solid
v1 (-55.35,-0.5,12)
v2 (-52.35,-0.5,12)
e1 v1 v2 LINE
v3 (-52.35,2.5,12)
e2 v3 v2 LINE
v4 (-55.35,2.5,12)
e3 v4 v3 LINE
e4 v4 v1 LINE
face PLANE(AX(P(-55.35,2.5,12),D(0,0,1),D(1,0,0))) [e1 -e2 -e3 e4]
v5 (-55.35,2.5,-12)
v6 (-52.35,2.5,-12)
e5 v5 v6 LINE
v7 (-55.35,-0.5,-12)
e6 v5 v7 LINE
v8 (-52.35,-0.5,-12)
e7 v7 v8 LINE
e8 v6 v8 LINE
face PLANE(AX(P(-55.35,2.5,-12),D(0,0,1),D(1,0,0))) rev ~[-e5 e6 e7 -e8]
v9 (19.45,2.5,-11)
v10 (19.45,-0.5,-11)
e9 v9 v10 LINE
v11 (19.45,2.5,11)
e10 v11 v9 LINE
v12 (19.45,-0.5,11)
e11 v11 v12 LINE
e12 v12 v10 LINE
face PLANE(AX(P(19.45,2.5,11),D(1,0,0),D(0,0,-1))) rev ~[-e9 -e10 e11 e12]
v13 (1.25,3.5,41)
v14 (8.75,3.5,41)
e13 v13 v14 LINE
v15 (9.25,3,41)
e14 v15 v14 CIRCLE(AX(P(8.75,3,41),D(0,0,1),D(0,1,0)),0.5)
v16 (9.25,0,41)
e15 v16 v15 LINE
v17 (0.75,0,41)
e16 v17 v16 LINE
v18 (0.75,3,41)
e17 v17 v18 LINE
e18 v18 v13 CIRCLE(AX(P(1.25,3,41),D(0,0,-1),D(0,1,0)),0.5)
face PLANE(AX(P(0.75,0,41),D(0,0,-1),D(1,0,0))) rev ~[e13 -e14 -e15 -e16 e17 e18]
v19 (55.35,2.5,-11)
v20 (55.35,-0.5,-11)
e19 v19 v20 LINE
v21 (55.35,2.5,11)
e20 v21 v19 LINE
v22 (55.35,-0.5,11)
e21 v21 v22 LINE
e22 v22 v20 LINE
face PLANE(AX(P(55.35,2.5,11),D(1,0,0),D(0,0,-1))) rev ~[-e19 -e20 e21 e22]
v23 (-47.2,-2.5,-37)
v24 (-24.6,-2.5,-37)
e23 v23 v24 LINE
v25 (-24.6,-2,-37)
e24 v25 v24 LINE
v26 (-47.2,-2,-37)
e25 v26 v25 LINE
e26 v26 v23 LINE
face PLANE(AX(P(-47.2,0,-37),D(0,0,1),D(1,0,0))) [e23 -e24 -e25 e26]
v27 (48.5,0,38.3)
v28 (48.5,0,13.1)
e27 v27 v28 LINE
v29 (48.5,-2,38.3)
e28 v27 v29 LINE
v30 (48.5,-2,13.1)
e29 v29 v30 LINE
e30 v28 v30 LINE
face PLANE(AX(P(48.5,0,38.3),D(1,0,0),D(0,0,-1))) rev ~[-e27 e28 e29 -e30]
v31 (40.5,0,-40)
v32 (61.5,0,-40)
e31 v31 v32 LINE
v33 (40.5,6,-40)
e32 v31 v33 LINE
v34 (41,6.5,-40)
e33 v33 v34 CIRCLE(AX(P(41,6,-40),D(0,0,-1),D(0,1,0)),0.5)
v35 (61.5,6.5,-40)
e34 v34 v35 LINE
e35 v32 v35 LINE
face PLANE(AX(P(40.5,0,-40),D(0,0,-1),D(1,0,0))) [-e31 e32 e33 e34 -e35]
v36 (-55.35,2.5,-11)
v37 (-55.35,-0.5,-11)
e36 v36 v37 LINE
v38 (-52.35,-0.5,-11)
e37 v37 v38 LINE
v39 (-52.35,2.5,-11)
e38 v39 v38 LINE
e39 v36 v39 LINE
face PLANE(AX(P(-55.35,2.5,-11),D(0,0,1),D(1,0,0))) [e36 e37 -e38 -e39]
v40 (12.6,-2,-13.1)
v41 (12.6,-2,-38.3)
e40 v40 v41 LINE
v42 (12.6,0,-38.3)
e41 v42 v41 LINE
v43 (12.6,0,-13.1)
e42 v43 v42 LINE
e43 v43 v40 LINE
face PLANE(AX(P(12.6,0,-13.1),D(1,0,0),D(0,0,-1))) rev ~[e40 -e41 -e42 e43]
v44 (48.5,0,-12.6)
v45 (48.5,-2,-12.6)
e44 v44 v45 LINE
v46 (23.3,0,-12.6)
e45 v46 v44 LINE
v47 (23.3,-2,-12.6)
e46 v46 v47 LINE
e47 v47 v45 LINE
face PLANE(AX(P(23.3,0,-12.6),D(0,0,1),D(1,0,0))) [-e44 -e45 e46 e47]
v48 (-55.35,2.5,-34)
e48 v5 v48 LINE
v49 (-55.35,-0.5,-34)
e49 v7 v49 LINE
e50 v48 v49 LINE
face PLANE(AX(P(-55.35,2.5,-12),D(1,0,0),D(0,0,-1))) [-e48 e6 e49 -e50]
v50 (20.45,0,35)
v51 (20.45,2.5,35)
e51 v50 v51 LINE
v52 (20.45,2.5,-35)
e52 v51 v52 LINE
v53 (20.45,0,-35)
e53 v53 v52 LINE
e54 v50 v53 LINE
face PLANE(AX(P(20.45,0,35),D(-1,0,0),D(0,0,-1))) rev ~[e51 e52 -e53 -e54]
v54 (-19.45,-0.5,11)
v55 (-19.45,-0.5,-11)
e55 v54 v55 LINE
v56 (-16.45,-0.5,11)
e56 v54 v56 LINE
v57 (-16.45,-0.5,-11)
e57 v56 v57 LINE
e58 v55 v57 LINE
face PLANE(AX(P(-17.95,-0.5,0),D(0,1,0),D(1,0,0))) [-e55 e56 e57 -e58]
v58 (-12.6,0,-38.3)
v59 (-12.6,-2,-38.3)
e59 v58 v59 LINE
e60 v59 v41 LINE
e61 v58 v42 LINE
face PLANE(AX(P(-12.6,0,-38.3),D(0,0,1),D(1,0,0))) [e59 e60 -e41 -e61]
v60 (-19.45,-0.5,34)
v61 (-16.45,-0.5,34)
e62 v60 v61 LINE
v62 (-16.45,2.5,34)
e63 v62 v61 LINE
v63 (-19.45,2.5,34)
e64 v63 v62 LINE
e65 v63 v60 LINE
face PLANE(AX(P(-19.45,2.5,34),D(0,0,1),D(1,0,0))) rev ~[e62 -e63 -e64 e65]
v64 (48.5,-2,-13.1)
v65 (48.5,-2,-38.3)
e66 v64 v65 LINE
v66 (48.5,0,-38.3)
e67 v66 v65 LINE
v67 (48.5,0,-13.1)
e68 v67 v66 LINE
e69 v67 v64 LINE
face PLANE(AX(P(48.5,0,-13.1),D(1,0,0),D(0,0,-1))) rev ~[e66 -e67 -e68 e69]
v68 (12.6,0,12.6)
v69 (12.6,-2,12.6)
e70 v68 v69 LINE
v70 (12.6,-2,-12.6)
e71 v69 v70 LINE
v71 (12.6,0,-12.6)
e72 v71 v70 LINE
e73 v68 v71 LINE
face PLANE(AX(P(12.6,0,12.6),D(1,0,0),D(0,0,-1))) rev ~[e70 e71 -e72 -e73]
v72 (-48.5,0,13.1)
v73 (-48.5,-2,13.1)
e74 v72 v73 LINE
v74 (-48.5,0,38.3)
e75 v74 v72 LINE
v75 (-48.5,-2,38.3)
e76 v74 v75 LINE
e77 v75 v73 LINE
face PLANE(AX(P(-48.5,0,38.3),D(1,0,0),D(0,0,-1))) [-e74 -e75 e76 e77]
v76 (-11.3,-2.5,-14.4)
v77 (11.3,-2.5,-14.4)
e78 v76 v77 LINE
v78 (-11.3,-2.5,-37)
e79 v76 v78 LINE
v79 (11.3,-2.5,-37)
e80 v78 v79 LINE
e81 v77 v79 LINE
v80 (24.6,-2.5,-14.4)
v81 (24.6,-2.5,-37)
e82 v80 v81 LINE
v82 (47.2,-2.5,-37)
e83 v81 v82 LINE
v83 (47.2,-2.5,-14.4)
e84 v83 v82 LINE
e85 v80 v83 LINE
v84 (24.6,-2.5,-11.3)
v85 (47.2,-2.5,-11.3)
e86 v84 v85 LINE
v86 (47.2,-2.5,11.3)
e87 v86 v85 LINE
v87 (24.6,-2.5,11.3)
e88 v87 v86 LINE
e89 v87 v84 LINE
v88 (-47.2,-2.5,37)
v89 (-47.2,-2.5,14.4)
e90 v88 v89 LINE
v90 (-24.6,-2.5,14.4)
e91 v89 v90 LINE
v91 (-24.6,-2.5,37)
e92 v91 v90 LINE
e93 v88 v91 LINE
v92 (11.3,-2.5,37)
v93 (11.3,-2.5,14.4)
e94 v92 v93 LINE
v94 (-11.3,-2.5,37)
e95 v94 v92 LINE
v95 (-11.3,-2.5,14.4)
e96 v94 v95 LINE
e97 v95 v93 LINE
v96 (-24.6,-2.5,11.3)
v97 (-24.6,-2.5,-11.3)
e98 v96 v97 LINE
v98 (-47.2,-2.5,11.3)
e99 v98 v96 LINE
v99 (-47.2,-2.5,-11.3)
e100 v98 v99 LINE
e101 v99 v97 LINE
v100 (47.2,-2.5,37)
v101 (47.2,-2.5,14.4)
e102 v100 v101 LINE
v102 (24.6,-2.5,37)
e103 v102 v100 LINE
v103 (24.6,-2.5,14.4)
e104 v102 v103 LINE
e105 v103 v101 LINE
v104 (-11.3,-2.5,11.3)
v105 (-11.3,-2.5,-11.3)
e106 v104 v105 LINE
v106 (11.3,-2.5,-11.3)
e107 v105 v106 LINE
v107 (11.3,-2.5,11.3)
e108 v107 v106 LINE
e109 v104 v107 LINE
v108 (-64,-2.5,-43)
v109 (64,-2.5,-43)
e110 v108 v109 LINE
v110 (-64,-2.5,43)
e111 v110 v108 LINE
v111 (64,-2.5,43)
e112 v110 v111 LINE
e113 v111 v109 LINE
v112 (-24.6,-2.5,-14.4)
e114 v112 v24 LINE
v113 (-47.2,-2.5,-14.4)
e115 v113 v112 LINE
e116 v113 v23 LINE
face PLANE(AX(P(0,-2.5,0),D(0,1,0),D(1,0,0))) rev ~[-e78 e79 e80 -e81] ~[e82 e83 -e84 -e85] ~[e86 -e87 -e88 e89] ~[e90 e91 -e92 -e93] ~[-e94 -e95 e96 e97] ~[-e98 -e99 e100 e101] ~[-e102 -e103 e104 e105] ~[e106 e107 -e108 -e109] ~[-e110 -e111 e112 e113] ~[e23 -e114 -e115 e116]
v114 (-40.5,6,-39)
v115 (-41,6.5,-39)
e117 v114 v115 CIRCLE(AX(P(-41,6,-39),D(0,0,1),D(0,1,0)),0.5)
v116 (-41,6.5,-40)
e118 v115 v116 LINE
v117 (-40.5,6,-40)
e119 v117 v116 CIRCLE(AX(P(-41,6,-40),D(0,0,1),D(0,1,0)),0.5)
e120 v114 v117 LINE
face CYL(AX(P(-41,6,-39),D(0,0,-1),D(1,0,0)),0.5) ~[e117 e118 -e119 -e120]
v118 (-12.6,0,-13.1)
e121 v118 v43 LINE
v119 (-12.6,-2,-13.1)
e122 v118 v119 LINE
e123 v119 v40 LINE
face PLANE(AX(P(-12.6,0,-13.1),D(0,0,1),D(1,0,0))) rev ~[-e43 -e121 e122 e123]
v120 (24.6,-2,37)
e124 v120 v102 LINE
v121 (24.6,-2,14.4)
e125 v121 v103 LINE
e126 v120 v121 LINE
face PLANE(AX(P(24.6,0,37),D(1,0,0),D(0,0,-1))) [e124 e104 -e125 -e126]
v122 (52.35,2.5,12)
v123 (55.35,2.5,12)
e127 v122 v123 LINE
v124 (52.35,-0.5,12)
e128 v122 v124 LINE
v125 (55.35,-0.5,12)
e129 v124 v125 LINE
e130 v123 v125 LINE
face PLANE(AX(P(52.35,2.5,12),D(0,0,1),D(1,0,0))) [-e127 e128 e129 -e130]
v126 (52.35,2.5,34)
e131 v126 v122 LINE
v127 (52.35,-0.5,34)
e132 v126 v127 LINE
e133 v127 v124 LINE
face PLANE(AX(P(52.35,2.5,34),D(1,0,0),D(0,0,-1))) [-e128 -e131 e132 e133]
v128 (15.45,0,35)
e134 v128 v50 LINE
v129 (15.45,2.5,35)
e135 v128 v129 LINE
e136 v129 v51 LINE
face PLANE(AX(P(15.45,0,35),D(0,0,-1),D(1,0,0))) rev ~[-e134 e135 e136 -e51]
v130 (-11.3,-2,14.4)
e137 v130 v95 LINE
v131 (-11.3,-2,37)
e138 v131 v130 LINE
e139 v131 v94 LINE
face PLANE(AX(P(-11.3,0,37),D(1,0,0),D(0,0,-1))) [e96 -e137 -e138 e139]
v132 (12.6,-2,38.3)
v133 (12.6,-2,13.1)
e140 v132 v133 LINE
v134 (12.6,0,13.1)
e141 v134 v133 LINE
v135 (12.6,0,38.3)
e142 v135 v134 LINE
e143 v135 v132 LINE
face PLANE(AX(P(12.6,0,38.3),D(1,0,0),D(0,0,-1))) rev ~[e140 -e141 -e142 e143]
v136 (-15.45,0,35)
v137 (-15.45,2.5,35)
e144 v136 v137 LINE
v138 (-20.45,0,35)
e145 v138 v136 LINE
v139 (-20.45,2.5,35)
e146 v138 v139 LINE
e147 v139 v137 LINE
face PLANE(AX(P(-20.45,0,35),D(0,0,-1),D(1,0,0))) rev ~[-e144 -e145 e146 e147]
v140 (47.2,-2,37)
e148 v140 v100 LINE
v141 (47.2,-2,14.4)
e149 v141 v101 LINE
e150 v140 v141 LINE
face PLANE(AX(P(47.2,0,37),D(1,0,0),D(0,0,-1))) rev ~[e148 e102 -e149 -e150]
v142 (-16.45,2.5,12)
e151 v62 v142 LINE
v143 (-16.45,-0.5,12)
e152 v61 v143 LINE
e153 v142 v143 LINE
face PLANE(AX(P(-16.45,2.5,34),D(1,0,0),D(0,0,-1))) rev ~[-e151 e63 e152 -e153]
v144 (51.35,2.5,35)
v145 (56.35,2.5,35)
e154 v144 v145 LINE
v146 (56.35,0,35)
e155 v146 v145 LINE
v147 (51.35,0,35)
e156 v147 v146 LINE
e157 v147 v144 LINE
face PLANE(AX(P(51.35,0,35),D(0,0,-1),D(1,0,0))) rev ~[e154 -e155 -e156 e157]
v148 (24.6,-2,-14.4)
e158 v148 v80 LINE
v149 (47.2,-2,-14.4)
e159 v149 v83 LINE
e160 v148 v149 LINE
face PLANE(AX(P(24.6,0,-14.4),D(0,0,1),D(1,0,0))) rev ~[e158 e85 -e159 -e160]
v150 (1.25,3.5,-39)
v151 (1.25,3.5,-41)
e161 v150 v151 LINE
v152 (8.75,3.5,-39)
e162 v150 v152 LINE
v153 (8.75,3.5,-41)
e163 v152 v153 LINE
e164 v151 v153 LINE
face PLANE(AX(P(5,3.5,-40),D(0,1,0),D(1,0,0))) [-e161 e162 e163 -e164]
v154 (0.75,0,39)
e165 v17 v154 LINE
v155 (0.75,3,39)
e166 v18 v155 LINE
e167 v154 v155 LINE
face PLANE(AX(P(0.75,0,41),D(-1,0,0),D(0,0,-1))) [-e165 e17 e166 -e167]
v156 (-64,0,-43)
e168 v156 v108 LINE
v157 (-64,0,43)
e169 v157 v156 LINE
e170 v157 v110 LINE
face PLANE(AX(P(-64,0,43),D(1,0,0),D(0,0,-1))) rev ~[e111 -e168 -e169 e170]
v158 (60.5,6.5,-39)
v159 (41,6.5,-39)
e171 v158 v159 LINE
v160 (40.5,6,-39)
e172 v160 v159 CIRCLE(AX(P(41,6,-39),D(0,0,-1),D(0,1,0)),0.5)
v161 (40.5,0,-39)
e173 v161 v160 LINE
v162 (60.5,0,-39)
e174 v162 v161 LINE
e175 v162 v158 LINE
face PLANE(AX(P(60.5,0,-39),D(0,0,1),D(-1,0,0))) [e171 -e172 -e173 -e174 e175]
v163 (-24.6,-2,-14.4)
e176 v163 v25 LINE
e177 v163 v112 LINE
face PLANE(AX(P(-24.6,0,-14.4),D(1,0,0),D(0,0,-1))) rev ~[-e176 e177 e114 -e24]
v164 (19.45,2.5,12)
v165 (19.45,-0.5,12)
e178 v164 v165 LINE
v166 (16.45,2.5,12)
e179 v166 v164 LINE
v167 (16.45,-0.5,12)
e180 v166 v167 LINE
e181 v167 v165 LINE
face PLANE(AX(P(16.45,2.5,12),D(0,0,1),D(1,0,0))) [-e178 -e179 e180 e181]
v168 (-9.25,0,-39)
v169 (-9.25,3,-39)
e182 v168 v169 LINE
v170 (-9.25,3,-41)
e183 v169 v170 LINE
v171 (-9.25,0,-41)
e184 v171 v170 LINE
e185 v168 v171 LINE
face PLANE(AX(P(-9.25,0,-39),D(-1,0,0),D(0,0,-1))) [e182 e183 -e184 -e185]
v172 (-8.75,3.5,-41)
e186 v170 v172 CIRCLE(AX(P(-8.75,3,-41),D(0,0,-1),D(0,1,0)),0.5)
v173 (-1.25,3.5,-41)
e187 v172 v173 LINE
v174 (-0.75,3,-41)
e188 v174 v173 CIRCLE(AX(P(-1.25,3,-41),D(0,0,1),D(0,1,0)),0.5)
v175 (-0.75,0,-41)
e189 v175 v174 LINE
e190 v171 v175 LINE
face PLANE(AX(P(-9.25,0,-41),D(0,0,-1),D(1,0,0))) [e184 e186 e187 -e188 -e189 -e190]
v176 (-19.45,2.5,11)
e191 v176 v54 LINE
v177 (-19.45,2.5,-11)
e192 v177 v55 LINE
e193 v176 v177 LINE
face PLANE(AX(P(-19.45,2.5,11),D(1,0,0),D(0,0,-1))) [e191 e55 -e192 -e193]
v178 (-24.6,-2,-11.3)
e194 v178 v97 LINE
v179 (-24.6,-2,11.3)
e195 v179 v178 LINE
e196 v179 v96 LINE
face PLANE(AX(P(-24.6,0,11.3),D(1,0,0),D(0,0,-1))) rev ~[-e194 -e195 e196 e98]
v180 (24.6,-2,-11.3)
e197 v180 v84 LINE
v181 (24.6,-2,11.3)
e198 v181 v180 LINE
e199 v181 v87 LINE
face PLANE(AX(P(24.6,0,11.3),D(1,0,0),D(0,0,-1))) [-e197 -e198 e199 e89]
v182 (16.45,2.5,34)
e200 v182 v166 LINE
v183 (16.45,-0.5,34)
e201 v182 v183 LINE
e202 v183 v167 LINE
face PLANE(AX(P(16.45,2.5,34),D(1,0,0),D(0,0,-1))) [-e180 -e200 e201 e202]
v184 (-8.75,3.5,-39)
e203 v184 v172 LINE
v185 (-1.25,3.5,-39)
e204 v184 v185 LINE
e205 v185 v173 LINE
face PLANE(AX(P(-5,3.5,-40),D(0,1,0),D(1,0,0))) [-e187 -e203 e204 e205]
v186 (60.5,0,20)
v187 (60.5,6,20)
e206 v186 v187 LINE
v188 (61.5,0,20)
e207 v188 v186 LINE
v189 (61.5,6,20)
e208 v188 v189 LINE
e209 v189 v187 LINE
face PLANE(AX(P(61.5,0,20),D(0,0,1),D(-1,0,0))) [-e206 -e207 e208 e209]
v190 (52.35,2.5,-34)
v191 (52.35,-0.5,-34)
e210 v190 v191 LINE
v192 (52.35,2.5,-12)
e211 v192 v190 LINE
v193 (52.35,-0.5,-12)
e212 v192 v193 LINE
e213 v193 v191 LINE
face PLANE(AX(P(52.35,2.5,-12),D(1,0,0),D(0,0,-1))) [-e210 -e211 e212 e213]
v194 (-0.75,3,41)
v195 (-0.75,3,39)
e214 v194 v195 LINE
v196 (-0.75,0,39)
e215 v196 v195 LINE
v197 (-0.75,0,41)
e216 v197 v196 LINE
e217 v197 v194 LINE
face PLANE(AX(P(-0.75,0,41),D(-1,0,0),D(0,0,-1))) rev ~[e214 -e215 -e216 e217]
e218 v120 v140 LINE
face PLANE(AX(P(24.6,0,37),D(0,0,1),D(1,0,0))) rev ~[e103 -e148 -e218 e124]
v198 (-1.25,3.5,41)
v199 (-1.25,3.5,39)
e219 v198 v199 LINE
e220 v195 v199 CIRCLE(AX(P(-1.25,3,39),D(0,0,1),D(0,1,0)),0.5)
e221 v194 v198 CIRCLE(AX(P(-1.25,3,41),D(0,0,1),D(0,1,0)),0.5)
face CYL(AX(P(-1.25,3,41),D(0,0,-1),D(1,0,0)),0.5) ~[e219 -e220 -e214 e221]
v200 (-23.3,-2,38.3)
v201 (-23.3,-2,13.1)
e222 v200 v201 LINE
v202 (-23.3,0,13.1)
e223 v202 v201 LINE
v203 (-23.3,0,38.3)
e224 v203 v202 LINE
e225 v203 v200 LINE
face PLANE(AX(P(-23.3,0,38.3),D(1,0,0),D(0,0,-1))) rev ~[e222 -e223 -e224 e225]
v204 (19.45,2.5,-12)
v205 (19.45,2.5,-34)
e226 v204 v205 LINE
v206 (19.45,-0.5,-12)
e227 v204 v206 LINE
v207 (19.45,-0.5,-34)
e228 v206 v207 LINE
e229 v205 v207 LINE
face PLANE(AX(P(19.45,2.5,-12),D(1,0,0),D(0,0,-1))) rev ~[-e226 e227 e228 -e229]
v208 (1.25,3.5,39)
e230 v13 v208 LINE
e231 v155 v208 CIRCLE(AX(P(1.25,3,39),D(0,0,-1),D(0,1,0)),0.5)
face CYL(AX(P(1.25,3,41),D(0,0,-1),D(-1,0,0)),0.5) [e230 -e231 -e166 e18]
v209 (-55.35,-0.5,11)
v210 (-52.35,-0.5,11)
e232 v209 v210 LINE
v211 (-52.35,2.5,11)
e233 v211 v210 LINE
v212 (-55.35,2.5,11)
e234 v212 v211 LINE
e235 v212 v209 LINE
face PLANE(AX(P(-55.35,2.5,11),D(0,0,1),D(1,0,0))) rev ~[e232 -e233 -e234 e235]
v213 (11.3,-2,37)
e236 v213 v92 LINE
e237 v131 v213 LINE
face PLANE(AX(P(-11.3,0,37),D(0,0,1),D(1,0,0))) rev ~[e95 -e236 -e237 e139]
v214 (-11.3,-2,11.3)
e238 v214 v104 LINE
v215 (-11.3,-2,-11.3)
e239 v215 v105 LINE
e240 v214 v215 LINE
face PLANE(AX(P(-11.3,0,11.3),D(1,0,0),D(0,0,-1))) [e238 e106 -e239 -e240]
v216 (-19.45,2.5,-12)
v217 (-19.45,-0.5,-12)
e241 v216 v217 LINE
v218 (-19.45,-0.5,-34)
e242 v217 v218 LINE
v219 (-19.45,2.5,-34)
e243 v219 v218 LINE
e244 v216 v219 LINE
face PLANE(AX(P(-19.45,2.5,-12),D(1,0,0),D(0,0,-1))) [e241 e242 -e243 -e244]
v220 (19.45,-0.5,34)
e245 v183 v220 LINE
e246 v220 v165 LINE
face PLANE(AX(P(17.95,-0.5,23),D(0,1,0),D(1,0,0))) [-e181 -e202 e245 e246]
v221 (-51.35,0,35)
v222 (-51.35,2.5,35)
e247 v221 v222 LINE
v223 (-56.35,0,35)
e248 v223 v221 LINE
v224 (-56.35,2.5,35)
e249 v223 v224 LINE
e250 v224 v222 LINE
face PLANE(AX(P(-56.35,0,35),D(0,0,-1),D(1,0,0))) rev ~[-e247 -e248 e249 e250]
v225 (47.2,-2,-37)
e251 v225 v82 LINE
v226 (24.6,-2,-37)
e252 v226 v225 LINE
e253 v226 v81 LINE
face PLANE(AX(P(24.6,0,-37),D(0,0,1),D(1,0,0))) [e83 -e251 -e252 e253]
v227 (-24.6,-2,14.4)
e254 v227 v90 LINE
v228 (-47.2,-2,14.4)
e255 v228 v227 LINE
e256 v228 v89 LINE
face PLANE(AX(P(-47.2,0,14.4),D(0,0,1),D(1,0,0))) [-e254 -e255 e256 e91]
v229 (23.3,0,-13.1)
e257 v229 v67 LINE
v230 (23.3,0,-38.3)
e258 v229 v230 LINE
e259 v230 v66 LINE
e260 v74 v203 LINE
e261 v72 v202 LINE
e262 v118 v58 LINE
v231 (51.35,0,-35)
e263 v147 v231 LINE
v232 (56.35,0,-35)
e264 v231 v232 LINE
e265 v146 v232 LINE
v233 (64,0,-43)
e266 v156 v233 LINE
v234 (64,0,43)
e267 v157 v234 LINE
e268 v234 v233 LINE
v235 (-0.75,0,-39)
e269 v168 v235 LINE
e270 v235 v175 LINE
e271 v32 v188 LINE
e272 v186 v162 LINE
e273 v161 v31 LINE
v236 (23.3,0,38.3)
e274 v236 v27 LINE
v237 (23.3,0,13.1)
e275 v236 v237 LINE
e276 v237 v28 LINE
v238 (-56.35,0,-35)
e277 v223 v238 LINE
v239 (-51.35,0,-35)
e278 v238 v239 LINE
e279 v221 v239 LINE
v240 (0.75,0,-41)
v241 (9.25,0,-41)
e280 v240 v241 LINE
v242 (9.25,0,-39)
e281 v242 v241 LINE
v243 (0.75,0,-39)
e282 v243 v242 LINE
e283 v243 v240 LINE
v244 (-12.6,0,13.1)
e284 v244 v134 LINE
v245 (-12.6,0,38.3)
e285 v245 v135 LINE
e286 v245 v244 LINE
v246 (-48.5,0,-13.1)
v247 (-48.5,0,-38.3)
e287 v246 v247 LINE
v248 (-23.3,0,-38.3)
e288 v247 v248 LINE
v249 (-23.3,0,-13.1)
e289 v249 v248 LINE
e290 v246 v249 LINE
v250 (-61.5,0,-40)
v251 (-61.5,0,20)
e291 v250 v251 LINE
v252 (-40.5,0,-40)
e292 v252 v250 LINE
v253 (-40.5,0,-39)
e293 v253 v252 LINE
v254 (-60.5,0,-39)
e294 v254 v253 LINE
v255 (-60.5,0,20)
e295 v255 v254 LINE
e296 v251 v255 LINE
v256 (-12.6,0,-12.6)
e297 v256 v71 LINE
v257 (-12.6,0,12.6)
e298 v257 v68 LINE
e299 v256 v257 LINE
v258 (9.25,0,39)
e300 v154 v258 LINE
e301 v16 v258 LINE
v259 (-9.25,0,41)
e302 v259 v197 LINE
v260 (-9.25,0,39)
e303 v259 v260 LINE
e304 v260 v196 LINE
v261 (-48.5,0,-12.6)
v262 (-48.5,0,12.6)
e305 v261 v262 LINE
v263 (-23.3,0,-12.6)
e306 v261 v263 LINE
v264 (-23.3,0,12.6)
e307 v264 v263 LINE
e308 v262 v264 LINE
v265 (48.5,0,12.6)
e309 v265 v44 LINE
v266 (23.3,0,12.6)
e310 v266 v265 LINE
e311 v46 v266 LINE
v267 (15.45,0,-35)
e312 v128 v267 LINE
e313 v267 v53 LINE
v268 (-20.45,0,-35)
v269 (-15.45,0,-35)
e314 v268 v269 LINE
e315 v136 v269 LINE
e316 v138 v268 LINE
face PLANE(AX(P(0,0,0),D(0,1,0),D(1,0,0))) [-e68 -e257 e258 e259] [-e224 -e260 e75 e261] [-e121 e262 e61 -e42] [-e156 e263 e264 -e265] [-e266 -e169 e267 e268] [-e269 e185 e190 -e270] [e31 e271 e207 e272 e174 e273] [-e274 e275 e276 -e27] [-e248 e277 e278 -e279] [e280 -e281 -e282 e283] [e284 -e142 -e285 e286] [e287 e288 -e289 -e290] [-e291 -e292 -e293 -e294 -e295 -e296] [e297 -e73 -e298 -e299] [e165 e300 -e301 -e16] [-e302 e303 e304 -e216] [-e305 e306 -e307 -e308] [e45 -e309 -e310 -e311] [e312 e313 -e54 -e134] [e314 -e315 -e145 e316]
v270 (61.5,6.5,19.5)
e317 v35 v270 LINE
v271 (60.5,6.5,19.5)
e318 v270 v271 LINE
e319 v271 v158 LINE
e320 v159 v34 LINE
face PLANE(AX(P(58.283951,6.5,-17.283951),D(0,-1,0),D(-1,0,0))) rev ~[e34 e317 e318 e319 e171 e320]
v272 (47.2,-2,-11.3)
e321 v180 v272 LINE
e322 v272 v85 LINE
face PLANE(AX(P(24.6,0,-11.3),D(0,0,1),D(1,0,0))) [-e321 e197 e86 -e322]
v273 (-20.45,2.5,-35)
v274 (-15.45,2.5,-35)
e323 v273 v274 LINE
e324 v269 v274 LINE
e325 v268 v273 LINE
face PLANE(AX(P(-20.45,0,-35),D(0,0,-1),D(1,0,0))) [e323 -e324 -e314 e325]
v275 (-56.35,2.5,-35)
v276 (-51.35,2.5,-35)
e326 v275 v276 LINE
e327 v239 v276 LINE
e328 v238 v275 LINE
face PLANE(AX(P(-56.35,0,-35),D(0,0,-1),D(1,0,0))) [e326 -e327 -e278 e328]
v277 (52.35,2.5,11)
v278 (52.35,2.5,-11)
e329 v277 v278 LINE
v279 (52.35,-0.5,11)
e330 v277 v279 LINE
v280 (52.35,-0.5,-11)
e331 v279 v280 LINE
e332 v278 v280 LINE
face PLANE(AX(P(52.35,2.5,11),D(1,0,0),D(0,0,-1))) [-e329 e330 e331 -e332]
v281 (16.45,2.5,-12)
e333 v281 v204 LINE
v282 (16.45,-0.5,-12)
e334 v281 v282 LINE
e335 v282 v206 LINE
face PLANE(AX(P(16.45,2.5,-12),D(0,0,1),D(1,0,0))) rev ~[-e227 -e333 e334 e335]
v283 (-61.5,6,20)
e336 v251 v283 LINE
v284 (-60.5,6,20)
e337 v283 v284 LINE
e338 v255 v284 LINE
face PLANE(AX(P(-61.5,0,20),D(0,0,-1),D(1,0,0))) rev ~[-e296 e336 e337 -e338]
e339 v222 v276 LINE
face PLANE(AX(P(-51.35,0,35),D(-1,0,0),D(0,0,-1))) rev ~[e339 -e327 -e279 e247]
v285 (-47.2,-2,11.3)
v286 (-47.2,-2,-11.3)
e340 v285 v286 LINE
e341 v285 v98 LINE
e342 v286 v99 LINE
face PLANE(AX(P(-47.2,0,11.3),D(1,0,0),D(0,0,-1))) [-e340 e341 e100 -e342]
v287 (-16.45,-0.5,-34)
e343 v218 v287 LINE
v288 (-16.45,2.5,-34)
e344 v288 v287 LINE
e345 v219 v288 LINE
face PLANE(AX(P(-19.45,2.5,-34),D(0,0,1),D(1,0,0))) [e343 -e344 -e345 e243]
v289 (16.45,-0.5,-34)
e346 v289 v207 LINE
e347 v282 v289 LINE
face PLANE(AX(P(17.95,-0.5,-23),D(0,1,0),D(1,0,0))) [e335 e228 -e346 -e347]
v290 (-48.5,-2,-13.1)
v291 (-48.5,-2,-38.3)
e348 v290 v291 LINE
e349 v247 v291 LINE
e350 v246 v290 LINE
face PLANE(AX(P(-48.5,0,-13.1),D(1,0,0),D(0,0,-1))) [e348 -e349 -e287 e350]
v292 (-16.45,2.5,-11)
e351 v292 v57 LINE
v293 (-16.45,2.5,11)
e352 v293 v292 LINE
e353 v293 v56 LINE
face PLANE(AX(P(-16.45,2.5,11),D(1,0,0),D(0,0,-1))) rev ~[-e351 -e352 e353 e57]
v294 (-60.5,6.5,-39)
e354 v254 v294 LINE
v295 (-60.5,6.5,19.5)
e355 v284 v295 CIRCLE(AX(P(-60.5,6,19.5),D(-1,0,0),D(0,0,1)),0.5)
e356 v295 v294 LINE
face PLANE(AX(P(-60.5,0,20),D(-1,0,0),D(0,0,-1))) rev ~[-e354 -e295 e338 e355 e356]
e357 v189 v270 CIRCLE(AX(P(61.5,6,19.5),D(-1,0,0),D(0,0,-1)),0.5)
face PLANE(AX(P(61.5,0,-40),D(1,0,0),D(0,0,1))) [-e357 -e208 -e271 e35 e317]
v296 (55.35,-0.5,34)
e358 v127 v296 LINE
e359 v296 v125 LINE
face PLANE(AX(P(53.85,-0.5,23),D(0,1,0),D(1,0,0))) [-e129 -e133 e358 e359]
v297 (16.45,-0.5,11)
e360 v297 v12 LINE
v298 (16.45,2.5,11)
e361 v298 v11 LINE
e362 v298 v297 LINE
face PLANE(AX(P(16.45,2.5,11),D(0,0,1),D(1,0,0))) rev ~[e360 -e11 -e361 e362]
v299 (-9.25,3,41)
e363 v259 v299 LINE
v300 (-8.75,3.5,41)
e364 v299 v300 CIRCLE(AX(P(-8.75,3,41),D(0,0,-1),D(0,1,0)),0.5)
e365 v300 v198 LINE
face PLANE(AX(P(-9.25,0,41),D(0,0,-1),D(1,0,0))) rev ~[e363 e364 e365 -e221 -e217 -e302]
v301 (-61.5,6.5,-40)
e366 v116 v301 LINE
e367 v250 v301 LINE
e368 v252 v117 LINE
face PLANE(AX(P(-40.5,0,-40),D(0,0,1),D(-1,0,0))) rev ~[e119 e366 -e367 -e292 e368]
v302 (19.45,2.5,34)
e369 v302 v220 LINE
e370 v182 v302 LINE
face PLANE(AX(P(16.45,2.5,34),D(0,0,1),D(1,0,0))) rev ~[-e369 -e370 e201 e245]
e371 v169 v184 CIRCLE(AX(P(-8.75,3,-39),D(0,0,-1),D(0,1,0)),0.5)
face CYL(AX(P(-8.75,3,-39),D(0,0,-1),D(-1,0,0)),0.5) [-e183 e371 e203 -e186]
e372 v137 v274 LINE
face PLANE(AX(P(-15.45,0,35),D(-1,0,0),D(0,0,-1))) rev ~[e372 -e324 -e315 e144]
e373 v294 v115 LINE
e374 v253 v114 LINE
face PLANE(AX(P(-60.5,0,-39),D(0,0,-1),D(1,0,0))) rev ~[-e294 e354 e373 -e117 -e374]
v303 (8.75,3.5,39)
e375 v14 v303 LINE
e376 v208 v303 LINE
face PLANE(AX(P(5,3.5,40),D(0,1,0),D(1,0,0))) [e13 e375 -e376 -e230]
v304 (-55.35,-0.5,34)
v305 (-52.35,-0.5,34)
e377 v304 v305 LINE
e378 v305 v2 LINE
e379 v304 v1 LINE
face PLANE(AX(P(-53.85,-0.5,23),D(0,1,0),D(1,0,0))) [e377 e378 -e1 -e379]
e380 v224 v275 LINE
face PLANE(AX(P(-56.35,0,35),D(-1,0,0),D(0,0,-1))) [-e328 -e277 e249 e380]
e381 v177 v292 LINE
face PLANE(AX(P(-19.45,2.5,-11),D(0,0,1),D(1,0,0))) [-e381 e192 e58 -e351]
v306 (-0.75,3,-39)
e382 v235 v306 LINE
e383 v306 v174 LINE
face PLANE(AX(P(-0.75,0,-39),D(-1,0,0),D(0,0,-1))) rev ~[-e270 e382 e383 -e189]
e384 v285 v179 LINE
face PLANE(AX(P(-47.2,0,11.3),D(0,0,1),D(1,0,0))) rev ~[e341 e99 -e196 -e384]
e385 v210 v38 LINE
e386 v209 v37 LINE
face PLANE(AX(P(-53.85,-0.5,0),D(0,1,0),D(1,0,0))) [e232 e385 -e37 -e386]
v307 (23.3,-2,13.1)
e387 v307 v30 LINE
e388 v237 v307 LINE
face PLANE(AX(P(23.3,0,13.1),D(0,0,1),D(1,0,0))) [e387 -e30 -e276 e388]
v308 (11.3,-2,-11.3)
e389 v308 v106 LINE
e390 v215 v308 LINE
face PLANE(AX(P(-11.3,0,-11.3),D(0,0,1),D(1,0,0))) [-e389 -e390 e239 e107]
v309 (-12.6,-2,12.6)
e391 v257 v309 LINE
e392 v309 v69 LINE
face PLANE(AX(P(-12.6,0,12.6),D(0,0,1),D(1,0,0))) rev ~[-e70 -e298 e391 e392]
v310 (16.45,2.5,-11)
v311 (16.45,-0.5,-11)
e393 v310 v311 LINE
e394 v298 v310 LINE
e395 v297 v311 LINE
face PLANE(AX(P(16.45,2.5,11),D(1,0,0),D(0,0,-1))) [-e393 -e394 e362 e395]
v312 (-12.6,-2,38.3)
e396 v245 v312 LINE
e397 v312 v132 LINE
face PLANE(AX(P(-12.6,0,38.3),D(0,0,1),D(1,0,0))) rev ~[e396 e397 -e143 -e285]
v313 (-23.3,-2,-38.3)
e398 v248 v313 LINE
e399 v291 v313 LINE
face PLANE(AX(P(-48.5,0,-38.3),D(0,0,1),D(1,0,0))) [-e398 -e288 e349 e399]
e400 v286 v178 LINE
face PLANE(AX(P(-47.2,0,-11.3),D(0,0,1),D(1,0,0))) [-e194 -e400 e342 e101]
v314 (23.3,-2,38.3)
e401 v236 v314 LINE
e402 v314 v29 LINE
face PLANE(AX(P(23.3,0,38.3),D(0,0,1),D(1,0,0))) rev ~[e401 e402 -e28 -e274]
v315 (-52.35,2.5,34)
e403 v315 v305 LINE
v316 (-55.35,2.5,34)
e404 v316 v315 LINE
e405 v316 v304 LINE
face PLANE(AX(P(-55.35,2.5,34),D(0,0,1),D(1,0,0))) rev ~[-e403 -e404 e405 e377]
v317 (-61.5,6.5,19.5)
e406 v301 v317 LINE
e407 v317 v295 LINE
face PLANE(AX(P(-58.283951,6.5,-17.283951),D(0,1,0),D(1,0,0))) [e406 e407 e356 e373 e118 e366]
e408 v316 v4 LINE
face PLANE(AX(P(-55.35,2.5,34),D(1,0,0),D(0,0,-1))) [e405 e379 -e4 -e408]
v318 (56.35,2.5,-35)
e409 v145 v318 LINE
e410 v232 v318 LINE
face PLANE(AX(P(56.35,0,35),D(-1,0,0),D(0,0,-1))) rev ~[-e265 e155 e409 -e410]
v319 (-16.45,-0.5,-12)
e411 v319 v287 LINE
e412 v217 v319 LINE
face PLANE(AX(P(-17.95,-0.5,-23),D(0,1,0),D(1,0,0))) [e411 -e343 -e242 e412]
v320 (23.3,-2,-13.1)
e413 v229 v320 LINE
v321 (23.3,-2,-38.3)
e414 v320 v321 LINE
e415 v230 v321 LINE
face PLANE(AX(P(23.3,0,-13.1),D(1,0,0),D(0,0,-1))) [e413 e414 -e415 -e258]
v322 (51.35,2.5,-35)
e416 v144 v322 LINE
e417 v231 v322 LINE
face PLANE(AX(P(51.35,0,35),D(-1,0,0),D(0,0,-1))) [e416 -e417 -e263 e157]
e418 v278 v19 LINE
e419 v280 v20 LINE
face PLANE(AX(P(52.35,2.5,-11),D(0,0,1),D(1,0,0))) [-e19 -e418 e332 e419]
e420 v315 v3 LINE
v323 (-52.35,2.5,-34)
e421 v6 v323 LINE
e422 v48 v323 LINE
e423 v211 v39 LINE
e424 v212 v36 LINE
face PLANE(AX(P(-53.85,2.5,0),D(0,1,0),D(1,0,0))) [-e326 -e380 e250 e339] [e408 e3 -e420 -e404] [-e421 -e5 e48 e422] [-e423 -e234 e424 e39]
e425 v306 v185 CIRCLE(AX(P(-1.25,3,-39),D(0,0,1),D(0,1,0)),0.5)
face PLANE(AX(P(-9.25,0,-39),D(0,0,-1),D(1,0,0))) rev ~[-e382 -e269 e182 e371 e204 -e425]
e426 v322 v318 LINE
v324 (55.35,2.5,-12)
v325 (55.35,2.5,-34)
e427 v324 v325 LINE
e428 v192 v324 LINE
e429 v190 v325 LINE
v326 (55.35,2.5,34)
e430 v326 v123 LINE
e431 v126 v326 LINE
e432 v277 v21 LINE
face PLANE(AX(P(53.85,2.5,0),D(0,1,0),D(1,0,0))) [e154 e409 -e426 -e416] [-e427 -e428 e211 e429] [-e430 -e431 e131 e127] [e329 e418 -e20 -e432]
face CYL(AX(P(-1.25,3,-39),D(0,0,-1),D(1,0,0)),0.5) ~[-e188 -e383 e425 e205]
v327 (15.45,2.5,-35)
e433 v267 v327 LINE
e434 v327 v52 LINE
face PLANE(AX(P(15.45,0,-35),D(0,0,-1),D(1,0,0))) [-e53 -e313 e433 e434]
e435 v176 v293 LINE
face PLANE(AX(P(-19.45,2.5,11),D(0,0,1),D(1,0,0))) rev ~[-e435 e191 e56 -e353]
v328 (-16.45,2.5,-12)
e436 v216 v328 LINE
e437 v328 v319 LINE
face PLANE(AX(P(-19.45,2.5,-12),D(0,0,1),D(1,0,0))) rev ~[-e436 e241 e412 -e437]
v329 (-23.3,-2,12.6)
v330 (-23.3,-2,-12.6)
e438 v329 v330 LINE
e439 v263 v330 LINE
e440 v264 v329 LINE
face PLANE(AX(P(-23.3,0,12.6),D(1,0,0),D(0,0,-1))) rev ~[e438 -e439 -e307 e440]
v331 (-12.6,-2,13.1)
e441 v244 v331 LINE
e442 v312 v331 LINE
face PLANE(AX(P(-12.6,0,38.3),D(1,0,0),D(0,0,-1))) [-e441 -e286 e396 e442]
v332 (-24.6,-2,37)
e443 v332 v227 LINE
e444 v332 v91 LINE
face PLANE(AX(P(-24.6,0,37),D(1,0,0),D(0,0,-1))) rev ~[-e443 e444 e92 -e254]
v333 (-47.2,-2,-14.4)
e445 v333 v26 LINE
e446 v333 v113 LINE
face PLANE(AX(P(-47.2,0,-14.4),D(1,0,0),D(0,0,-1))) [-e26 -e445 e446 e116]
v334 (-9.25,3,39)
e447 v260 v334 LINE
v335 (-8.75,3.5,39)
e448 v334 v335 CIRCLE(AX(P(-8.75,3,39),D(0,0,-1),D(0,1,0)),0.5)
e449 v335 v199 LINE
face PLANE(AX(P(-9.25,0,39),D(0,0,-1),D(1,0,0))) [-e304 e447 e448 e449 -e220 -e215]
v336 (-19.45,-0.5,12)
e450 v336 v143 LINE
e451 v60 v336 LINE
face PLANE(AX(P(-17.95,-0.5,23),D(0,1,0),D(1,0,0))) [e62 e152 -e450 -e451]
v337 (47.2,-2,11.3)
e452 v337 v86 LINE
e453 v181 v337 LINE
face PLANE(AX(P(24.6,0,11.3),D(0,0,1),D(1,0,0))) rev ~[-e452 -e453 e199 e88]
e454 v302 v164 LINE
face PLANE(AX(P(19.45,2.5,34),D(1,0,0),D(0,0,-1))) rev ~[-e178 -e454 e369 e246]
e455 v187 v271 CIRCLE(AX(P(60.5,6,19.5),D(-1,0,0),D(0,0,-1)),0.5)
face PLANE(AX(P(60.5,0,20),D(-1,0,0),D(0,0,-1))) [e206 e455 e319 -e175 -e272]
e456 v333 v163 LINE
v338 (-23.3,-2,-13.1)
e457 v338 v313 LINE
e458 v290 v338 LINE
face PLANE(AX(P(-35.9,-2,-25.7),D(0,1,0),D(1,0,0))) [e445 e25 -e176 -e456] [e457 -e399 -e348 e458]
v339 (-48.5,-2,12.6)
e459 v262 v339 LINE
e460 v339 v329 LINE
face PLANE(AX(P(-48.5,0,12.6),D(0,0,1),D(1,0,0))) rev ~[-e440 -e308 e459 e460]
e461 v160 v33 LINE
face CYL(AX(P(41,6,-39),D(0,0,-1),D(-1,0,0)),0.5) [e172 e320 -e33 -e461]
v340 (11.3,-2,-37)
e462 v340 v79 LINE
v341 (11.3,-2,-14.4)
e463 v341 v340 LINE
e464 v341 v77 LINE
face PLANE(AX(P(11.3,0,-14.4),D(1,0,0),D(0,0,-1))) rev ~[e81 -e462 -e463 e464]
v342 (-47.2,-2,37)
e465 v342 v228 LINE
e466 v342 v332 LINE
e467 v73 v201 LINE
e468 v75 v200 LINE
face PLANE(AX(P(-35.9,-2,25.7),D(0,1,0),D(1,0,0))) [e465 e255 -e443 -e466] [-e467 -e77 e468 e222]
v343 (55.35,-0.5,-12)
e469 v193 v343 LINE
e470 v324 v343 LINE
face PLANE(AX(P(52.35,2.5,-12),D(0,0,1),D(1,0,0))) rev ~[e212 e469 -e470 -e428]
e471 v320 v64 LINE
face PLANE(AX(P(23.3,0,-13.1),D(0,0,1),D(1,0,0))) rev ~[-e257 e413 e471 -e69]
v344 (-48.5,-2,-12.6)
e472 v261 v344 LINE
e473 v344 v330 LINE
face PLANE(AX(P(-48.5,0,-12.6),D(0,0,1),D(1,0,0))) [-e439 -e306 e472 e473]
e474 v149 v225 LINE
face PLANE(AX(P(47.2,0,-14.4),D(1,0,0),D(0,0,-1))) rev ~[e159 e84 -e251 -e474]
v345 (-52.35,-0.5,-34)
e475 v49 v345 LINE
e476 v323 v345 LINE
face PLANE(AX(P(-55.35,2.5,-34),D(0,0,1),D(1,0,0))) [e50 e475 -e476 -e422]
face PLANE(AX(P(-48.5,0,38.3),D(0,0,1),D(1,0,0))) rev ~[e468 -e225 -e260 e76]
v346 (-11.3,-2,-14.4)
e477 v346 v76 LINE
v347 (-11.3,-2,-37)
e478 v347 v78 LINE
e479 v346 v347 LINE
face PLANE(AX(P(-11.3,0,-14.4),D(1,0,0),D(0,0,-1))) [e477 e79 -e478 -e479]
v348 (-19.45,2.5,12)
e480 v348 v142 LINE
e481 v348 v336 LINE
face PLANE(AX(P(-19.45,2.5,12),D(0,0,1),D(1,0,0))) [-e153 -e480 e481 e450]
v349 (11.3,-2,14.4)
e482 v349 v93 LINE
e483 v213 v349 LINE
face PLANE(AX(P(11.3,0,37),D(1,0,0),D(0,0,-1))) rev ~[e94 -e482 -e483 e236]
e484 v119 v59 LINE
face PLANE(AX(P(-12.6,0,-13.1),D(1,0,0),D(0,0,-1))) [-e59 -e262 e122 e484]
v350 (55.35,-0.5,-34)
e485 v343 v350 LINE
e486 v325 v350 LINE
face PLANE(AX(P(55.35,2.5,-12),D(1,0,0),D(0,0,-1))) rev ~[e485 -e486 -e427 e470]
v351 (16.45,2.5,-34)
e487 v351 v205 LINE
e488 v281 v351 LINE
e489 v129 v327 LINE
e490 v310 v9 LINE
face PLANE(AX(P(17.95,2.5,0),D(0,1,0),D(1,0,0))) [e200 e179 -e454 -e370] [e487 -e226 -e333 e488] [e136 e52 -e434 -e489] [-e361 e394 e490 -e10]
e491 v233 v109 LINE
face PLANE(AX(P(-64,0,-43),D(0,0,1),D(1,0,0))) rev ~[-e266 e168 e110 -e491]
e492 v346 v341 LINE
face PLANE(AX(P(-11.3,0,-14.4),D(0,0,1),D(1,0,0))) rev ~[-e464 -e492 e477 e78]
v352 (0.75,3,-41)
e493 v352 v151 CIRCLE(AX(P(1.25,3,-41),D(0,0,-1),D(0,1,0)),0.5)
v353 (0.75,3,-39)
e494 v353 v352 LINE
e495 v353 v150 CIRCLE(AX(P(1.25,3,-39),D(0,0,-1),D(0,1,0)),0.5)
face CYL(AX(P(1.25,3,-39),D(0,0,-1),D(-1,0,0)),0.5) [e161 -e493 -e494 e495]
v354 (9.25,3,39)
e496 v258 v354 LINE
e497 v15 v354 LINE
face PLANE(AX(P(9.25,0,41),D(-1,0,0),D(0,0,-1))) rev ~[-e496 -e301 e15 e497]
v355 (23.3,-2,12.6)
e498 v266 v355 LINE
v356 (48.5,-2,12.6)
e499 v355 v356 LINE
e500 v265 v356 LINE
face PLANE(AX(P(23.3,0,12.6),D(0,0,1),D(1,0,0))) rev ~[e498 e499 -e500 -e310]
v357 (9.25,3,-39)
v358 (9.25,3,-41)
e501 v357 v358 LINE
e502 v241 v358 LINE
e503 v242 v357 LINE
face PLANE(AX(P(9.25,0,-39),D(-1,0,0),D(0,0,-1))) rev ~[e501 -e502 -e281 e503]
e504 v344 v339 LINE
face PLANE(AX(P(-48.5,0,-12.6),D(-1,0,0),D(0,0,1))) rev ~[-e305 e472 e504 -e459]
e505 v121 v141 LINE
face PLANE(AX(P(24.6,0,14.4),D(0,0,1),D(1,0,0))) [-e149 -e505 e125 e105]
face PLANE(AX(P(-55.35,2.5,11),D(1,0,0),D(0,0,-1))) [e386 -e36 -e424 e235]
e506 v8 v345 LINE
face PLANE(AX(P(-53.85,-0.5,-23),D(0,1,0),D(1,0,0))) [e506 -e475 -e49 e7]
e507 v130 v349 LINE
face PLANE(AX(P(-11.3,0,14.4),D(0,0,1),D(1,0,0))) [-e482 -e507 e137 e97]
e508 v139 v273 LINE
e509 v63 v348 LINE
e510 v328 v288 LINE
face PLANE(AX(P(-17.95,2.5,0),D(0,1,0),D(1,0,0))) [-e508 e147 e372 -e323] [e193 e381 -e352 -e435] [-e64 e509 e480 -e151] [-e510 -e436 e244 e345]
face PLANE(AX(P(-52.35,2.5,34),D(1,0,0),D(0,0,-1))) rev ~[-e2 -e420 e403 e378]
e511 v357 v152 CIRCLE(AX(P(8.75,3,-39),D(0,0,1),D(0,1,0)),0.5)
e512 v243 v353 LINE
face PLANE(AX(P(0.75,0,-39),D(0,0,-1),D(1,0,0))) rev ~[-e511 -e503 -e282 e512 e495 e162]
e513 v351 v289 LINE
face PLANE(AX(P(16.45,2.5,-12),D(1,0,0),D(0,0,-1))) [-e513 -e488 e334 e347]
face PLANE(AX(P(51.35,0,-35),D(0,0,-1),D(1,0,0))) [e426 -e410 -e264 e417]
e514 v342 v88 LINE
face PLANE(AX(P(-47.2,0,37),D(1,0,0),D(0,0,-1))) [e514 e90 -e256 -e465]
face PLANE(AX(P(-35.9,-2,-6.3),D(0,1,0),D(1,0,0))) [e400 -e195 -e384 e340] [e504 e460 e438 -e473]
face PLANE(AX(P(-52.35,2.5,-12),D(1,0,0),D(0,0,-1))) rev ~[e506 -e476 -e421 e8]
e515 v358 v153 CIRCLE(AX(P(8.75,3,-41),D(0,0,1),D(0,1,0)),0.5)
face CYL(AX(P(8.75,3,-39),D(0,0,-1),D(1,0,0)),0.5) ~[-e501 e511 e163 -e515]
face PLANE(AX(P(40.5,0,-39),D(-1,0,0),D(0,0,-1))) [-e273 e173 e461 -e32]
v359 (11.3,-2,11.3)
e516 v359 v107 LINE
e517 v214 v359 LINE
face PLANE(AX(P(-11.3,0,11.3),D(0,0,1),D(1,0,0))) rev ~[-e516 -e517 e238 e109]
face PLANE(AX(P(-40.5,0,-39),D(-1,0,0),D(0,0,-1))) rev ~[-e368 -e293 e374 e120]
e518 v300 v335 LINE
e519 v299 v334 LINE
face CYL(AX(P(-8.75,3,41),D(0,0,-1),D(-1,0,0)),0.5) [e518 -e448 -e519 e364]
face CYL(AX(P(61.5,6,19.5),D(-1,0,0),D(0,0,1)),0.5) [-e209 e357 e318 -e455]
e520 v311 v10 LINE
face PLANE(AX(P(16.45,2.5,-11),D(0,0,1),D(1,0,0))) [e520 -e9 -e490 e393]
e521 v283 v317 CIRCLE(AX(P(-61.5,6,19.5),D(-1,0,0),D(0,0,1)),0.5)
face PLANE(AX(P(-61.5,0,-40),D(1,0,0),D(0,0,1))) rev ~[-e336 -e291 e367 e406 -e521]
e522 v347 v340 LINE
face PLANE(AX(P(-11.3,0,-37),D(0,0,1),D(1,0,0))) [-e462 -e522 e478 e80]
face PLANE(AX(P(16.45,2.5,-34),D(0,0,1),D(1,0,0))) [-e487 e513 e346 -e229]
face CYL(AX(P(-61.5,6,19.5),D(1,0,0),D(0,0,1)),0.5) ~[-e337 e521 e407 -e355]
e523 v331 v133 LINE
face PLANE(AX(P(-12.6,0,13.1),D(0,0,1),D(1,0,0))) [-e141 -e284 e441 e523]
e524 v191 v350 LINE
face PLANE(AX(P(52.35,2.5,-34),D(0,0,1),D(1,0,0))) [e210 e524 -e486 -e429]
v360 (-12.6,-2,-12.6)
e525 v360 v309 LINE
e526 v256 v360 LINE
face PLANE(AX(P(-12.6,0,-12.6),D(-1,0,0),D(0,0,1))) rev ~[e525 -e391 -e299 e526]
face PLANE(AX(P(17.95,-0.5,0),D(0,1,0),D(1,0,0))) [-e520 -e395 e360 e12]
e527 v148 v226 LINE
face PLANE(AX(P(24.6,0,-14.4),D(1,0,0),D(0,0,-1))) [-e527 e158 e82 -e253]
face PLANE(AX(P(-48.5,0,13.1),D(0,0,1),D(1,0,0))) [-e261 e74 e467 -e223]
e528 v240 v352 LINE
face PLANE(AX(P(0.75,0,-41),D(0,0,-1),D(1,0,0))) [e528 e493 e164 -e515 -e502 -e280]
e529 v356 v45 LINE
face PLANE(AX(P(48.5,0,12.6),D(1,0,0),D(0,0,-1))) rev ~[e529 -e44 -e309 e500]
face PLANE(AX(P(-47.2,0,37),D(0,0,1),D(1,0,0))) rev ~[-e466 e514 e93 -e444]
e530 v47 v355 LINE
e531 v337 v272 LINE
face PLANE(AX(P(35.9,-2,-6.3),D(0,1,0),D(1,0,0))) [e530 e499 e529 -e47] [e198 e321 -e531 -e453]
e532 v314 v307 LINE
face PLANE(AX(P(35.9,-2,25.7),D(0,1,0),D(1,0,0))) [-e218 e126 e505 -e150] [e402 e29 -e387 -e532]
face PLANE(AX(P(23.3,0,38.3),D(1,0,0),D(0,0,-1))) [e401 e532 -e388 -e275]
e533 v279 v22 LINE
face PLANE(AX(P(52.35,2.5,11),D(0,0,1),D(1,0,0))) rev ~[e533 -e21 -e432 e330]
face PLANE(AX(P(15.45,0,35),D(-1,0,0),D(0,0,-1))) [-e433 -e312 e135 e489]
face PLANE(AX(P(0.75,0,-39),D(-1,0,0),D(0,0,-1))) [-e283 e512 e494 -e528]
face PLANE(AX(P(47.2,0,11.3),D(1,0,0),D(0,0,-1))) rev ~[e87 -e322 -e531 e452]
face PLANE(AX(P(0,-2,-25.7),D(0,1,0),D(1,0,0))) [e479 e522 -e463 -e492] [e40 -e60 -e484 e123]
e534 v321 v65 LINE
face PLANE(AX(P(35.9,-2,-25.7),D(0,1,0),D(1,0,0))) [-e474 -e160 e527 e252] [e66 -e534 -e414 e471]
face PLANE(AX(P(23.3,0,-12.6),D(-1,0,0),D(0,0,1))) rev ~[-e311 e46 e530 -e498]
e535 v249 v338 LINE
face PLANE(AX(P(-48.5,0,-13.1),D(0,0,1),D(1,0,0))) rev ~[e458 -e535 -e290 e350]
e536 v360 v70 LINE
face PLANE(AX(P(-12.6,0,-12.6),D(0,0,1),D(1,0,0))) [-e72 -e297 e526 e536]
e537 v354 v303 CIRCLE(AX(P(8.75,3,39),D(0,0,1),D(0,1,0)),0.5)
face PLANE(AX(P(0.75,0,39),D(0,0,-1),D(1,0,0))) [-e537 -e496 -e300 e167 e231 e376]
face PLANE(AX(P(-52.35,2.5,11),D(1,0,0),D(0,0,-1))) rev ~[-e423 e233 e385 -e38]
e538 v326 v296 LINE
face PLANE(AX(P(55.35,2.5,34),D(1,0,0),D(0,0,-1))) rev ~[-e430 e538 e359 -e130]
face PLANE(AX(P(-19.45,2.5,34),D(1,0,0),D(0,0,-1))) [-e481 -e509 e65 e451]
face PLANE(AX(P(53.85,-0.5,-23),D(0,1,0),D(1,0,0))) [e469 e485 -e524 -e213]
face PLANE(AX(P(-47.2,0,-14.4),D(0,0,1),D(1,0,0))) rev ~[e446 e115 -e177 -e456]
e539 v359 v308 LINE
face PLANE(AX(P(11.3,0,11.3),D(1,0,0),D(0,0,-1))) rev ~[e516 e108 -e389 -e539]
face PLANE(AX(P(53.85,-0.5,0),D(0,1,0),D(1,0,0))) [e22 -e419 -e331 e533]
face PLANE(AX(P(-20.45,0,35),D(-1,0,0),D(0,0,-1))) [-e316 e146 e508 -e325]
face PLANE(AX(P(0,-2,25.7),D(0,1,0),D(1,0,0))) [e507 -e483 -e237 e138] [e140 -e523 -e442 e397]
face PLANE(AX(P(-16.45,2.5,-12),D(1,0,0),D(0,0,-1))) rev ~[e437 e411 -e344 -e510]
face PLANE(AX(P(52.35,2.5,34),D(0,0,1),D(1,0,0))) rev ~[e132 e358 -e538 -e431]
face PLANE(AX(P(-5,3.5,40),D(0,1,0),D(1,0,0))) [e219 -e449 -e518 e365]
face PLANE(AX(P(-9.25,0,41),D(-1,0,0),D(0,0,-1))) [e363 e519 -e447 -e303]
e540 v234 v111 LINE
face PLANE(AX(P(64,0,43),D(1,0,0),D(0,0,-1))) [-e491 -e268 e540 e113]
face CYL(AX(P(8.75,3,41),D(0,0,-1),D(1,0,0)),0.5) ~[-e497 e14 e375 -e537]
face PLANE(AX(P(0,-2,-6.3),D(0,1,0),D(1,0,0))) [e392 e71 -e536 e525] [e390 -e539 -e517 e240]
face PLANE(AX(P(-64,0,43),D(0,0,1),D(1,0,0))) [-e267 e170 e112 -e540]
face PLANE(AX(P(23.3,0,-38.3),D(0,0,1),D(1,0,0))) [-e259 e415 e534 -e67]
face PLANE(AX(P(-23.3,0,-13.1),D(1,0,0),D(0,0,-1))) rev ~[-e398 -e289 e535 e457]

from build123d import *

# Parameters (mm, degrees)
SKETCH2_W           = 128
SKETCH2_H           = 86
BOSS_EXTRUDE1_DEPTH = 2.5
SKETCH3_W           = 25.2
SKETCH3_H           = 25.2
SKETCH3_H_2         = 12.6
CUT_EXTRUDE1_DEPTH  = 2
SKETCH4_W           = 22.6
SKETCH4_H           = 22.6
CUT_EXTRUDE2_DEPTH  = 2.5
SKETCH5_W           = 5
SKETCH5_H           = 70
BOSS_EXTRUDE2_DEPTH = 2.5
SKETCH7_W           = 3
SKETCH7_H           = 22
CUT_EXTRUDE6_DEPTH  = 3
SKETCH9_W           = 8.5
SKETCH9_H           = 2
BOSS_EXTRUDE3_DEPTH = 6.5
CUT_EXTRUDE9_START  = 3.5
SKETCH10_W          = 8.5
SKETCH10_H          = 2
CUT_EXTRUDE9_DEPTH  = 74.877322259
FILLET1_R           = 0.5


with BuildPart() as part:
    # Sketch2 → Boss-Extrude1 (new body)
    with BuildSketch(Plane(origin=(0, 0, 0), x_dir=(1, 0, 0), z_dir=(0, 1, 0))):
        Rectangle(SKETCH2_W, SKETCH2_H)
    extrude(amount=-BOSS_EXTRUDE1_DEPTH)

    # Sketch3 → Cut-Extrude1 (cut)
    with BuildSketch(Plane(origin=(0, 0, 0), x_dir=(1, 0, 0), z_dir=(0, 1, 0))):
        with Locations((0, 25.7)):
            Rectangle(SKETCH3_W, SKETCH3_H)
        with Locations((35.9, 25.7)):
            Rectangle(SKETCH3_W, SKETCH3_H)
        with Locations((35.9, 6.3)):
            Rectangle(SKETCH3_W, SKETCH3_H_2)
        with Locations((35.9, -6.3)):
            Rectangle(SKETCH3_W, SKETCH3_H_2)
        with Locations((35.9, -25.7)):
            Rectangle(SKETCH3_W, SKETCH3_H)
        with Locations((0, 6.3)):
            Rectangle(SKETCH3_W, SKETCH3_H_2)
        with Locations((0, -6.3)):
            Rectangle(SKETCH3_W, SKETCH3_H_2)
        with Locations((0, -25.7)):
            Rectangle(SKETCH3_W, SKETCH3_H)
        with Locations((-35.9, 25.7)):
            Rectangle(SKETCH3_W, SKETCH3_H)
        with Locations((-35.9, 6.3)):
            Rectangle(SKETCH3_W, SKETCH3_H_2)
        with Locations((-35.9, -6.3)):
            Rectangle(SKETCH3_W, SKETCH3_H_2)
        with Locations((-35.9, -25.7)):
            Rectangle(SKETCH3_W, SKETCH3_H)
    extrude(amount=-CUT_EXTRUDE1_DEPTH, mode=Mode.SUBTRACT)

    # Sketch4 → Cut-Extrude2 (cut)
    with BuildSketch(Plane(origin=(0, 0, 0), x_dir=(1, 0, 0), z_dir=(0, 1, 0))):
        Rectangle(SKETCH4_W, SKETCH4_H)
        with Locations((0, 25.7)):
            Rectangle(SKETCH4_W, SKETCH4_H)
        with Locations((0, -25.7)):
            Rectangle(SKETCH4_W, SKETCH4_H)
        with Locations((35.9, -25.7)):
            Rectangle(SKETCH4_W, SKETCH4_H)
        with Locations((35.9, 0)):
            Rectangle(SKETCH4_W, SKETCH4_H)
        with Locations((35.9, 25.7)):
            Rectangle(SKETCH4_W, SKETCH4_H)
        with Locations((-35.9, -25.7)):
            Rectangle(SKETCH4_W, SKETCH4_H)
        with Locations((-35.9, 0)):
            Rectangle(SKETCH4_W, SKETCH4_H)
        with Locations((-35.9, 25.7)):
            Rectangle(SKETCH4_W, SKETCH4_H)
    extrude(amount=-CUT_EXTRUDE2_DEPTH, mode=Mode.SUBTRACT)

    # Sketch5 → Boss-Extrude2 (add)
    with BuildSketch(Plane(origin=(0, 0, 0), x_dir=(1, 0, 0), z_dir=(0, 1, 0))):
        with Locations((-53.85, 0)):
            Rectangle(SKETCH5_W, SKETCH5_H)
        with Locations((-17.95, 0)):
            Rectangle(SKETCH5_W, SKETCH5_H)
        with Locations((17.95, 0)):
            Rectangle(SKETCH5_W, SKETCH5_H)
        with Locations((53.85, 0)):
            Rectangle(SKETCH5_W, SKETCH5_H)
    extrude(amount=BOSS_EXTRUDE2_DEPTH)

    # Sketch7 → Cut-Extrude6 (cut)
    with BuildSketch(Plane(origin=(0, 2.5, 0), x_dir=(1, 0, 0), z_dir=(0, 1, 0))):
        with Locations((-17.95, 23)):
            Rectangle(SKETCH7_W, SKETCH7_H)
        with Locations((-17.95, 0)):
            Rectangle(SKETCH7_W, SKETCH7_H)
        with Locations((-17.95, -23)):
            Rectangle(SKETCH7_W, SKETCH7_H)
        with Locations((17.95, 23)):
            Rectangle(SKETCH7_W, SKETCH7_H)
        with Locations((17.95, 0)):
            Rectangle(SKETCH7_W, SKETCH7_H)
        with Locations((17.95, -23)):
            Rectangle(SKETCH7_W, SKETCH7_H)
        with Locations((53.85, 23)):
            Rectangle(SKETCH7_W, SKETCH7_H)
        with Locations((53.85, 0)):
            Rectangle(SKETCH7_W, SKETCH7_H)
        with Locations((-53.85, 23)):
            Rectangle(SKETCH7_W, SKETCH7_H)
        with Locations((-53.85, 0)):
            Rectangle(SKETCH7_W, SKETCH7_H)
        with Locations((-53.85, -23)):
            Rectangle(SKETCH7_W, SKETCH7_H)
        with Locations((53.85, -23)):
            Rectangle(SKETCH7_W, SKETCH7_H)
    extrude(amount=-CUT_EXTRUDE6_DEPTH, mode=Mode.SUBTRACT)

    # Sketch9 → Boss-Extrude3 (add)
    with BuildSketch(Plane(origin=(0, 0, 0), x_dir=(1, 0, 0), z_dir=(0, 1, 0))):
        Polygon((-61.5, -20), (-60.5, -20), (-60.5, 39), (-40.5, 39), (-40.5, 40), (-61.5, 40), align=None)
        Polygon((40.5, 40), (61.5, 40), (61.5, -20), (60.5, -20), (60.5, 39), (40.5, 39), align=None)
        with Locations((-5, 40)):
            Rectangle(SKETCH9_W, SKETCH9_H)
        with Locations((5, 40)):
            Rectangle(SKETCH9_W, SKETCH9_H)
        with Locations((-5, -40)):
            Rectangle(SKETCH9_W, SKETCH9_H)
        with Locations((5, -40)):
            Rectangle(SKETCH9_W, SKETCH9_H)
    extrude(amount=BOSS_EXTRUDE3_DEPTH)

    # Sketch10 → Cut-Extrude9 (cut, through all)
    with BuildSketch(Plane(origin=(0, 0, 0), x_dir=(1, 0, 0), z_dir=(0, 1, 0)).offset(CUT_EXTRUDE9_START)):
        with Locations((-5, 40)):
            Rectangle(SKETCH10_W, SKETCH10_H)
        with Locations((5, 40)):
            Rectangle(SKETCH10_W, SKETCH10_H)
        with Locations((-5, -40)):
            Rectangle(SKETCH10_W, SKETCH10_H)
        with Locations((5, -40)):
            Rectangle(SKETCH10_W, SKETCH10_H)
    extrude(amount=CUT_EXTRUDE9_DEPTH, mode=Mode.SUBTRACT)

    # Fillet1
    fillet1_edges = [part.edges().sort_by_distance(p)[0] for p in [
        (40.5, 6.5, -39.5),
        (61, 6.5, 20),
        (-61, 6.5, 20),
        (-40.5, 6.5, -39.5),
        (0.75, 3.5, -40),
        (9.25, 3.5, -40),
        (-9.25, 3.5, 40),
        (-0.75, 3.5, 40),
        (0.75, 3.5, 40),
        (9.25, 3.5, 40),
        (-9.25, 3.5, -40),
        (-0.75, 3.5, -40),
    ]]
    fillet(fillet1_edges, radius=FILLET1_R)


solid = part.part
